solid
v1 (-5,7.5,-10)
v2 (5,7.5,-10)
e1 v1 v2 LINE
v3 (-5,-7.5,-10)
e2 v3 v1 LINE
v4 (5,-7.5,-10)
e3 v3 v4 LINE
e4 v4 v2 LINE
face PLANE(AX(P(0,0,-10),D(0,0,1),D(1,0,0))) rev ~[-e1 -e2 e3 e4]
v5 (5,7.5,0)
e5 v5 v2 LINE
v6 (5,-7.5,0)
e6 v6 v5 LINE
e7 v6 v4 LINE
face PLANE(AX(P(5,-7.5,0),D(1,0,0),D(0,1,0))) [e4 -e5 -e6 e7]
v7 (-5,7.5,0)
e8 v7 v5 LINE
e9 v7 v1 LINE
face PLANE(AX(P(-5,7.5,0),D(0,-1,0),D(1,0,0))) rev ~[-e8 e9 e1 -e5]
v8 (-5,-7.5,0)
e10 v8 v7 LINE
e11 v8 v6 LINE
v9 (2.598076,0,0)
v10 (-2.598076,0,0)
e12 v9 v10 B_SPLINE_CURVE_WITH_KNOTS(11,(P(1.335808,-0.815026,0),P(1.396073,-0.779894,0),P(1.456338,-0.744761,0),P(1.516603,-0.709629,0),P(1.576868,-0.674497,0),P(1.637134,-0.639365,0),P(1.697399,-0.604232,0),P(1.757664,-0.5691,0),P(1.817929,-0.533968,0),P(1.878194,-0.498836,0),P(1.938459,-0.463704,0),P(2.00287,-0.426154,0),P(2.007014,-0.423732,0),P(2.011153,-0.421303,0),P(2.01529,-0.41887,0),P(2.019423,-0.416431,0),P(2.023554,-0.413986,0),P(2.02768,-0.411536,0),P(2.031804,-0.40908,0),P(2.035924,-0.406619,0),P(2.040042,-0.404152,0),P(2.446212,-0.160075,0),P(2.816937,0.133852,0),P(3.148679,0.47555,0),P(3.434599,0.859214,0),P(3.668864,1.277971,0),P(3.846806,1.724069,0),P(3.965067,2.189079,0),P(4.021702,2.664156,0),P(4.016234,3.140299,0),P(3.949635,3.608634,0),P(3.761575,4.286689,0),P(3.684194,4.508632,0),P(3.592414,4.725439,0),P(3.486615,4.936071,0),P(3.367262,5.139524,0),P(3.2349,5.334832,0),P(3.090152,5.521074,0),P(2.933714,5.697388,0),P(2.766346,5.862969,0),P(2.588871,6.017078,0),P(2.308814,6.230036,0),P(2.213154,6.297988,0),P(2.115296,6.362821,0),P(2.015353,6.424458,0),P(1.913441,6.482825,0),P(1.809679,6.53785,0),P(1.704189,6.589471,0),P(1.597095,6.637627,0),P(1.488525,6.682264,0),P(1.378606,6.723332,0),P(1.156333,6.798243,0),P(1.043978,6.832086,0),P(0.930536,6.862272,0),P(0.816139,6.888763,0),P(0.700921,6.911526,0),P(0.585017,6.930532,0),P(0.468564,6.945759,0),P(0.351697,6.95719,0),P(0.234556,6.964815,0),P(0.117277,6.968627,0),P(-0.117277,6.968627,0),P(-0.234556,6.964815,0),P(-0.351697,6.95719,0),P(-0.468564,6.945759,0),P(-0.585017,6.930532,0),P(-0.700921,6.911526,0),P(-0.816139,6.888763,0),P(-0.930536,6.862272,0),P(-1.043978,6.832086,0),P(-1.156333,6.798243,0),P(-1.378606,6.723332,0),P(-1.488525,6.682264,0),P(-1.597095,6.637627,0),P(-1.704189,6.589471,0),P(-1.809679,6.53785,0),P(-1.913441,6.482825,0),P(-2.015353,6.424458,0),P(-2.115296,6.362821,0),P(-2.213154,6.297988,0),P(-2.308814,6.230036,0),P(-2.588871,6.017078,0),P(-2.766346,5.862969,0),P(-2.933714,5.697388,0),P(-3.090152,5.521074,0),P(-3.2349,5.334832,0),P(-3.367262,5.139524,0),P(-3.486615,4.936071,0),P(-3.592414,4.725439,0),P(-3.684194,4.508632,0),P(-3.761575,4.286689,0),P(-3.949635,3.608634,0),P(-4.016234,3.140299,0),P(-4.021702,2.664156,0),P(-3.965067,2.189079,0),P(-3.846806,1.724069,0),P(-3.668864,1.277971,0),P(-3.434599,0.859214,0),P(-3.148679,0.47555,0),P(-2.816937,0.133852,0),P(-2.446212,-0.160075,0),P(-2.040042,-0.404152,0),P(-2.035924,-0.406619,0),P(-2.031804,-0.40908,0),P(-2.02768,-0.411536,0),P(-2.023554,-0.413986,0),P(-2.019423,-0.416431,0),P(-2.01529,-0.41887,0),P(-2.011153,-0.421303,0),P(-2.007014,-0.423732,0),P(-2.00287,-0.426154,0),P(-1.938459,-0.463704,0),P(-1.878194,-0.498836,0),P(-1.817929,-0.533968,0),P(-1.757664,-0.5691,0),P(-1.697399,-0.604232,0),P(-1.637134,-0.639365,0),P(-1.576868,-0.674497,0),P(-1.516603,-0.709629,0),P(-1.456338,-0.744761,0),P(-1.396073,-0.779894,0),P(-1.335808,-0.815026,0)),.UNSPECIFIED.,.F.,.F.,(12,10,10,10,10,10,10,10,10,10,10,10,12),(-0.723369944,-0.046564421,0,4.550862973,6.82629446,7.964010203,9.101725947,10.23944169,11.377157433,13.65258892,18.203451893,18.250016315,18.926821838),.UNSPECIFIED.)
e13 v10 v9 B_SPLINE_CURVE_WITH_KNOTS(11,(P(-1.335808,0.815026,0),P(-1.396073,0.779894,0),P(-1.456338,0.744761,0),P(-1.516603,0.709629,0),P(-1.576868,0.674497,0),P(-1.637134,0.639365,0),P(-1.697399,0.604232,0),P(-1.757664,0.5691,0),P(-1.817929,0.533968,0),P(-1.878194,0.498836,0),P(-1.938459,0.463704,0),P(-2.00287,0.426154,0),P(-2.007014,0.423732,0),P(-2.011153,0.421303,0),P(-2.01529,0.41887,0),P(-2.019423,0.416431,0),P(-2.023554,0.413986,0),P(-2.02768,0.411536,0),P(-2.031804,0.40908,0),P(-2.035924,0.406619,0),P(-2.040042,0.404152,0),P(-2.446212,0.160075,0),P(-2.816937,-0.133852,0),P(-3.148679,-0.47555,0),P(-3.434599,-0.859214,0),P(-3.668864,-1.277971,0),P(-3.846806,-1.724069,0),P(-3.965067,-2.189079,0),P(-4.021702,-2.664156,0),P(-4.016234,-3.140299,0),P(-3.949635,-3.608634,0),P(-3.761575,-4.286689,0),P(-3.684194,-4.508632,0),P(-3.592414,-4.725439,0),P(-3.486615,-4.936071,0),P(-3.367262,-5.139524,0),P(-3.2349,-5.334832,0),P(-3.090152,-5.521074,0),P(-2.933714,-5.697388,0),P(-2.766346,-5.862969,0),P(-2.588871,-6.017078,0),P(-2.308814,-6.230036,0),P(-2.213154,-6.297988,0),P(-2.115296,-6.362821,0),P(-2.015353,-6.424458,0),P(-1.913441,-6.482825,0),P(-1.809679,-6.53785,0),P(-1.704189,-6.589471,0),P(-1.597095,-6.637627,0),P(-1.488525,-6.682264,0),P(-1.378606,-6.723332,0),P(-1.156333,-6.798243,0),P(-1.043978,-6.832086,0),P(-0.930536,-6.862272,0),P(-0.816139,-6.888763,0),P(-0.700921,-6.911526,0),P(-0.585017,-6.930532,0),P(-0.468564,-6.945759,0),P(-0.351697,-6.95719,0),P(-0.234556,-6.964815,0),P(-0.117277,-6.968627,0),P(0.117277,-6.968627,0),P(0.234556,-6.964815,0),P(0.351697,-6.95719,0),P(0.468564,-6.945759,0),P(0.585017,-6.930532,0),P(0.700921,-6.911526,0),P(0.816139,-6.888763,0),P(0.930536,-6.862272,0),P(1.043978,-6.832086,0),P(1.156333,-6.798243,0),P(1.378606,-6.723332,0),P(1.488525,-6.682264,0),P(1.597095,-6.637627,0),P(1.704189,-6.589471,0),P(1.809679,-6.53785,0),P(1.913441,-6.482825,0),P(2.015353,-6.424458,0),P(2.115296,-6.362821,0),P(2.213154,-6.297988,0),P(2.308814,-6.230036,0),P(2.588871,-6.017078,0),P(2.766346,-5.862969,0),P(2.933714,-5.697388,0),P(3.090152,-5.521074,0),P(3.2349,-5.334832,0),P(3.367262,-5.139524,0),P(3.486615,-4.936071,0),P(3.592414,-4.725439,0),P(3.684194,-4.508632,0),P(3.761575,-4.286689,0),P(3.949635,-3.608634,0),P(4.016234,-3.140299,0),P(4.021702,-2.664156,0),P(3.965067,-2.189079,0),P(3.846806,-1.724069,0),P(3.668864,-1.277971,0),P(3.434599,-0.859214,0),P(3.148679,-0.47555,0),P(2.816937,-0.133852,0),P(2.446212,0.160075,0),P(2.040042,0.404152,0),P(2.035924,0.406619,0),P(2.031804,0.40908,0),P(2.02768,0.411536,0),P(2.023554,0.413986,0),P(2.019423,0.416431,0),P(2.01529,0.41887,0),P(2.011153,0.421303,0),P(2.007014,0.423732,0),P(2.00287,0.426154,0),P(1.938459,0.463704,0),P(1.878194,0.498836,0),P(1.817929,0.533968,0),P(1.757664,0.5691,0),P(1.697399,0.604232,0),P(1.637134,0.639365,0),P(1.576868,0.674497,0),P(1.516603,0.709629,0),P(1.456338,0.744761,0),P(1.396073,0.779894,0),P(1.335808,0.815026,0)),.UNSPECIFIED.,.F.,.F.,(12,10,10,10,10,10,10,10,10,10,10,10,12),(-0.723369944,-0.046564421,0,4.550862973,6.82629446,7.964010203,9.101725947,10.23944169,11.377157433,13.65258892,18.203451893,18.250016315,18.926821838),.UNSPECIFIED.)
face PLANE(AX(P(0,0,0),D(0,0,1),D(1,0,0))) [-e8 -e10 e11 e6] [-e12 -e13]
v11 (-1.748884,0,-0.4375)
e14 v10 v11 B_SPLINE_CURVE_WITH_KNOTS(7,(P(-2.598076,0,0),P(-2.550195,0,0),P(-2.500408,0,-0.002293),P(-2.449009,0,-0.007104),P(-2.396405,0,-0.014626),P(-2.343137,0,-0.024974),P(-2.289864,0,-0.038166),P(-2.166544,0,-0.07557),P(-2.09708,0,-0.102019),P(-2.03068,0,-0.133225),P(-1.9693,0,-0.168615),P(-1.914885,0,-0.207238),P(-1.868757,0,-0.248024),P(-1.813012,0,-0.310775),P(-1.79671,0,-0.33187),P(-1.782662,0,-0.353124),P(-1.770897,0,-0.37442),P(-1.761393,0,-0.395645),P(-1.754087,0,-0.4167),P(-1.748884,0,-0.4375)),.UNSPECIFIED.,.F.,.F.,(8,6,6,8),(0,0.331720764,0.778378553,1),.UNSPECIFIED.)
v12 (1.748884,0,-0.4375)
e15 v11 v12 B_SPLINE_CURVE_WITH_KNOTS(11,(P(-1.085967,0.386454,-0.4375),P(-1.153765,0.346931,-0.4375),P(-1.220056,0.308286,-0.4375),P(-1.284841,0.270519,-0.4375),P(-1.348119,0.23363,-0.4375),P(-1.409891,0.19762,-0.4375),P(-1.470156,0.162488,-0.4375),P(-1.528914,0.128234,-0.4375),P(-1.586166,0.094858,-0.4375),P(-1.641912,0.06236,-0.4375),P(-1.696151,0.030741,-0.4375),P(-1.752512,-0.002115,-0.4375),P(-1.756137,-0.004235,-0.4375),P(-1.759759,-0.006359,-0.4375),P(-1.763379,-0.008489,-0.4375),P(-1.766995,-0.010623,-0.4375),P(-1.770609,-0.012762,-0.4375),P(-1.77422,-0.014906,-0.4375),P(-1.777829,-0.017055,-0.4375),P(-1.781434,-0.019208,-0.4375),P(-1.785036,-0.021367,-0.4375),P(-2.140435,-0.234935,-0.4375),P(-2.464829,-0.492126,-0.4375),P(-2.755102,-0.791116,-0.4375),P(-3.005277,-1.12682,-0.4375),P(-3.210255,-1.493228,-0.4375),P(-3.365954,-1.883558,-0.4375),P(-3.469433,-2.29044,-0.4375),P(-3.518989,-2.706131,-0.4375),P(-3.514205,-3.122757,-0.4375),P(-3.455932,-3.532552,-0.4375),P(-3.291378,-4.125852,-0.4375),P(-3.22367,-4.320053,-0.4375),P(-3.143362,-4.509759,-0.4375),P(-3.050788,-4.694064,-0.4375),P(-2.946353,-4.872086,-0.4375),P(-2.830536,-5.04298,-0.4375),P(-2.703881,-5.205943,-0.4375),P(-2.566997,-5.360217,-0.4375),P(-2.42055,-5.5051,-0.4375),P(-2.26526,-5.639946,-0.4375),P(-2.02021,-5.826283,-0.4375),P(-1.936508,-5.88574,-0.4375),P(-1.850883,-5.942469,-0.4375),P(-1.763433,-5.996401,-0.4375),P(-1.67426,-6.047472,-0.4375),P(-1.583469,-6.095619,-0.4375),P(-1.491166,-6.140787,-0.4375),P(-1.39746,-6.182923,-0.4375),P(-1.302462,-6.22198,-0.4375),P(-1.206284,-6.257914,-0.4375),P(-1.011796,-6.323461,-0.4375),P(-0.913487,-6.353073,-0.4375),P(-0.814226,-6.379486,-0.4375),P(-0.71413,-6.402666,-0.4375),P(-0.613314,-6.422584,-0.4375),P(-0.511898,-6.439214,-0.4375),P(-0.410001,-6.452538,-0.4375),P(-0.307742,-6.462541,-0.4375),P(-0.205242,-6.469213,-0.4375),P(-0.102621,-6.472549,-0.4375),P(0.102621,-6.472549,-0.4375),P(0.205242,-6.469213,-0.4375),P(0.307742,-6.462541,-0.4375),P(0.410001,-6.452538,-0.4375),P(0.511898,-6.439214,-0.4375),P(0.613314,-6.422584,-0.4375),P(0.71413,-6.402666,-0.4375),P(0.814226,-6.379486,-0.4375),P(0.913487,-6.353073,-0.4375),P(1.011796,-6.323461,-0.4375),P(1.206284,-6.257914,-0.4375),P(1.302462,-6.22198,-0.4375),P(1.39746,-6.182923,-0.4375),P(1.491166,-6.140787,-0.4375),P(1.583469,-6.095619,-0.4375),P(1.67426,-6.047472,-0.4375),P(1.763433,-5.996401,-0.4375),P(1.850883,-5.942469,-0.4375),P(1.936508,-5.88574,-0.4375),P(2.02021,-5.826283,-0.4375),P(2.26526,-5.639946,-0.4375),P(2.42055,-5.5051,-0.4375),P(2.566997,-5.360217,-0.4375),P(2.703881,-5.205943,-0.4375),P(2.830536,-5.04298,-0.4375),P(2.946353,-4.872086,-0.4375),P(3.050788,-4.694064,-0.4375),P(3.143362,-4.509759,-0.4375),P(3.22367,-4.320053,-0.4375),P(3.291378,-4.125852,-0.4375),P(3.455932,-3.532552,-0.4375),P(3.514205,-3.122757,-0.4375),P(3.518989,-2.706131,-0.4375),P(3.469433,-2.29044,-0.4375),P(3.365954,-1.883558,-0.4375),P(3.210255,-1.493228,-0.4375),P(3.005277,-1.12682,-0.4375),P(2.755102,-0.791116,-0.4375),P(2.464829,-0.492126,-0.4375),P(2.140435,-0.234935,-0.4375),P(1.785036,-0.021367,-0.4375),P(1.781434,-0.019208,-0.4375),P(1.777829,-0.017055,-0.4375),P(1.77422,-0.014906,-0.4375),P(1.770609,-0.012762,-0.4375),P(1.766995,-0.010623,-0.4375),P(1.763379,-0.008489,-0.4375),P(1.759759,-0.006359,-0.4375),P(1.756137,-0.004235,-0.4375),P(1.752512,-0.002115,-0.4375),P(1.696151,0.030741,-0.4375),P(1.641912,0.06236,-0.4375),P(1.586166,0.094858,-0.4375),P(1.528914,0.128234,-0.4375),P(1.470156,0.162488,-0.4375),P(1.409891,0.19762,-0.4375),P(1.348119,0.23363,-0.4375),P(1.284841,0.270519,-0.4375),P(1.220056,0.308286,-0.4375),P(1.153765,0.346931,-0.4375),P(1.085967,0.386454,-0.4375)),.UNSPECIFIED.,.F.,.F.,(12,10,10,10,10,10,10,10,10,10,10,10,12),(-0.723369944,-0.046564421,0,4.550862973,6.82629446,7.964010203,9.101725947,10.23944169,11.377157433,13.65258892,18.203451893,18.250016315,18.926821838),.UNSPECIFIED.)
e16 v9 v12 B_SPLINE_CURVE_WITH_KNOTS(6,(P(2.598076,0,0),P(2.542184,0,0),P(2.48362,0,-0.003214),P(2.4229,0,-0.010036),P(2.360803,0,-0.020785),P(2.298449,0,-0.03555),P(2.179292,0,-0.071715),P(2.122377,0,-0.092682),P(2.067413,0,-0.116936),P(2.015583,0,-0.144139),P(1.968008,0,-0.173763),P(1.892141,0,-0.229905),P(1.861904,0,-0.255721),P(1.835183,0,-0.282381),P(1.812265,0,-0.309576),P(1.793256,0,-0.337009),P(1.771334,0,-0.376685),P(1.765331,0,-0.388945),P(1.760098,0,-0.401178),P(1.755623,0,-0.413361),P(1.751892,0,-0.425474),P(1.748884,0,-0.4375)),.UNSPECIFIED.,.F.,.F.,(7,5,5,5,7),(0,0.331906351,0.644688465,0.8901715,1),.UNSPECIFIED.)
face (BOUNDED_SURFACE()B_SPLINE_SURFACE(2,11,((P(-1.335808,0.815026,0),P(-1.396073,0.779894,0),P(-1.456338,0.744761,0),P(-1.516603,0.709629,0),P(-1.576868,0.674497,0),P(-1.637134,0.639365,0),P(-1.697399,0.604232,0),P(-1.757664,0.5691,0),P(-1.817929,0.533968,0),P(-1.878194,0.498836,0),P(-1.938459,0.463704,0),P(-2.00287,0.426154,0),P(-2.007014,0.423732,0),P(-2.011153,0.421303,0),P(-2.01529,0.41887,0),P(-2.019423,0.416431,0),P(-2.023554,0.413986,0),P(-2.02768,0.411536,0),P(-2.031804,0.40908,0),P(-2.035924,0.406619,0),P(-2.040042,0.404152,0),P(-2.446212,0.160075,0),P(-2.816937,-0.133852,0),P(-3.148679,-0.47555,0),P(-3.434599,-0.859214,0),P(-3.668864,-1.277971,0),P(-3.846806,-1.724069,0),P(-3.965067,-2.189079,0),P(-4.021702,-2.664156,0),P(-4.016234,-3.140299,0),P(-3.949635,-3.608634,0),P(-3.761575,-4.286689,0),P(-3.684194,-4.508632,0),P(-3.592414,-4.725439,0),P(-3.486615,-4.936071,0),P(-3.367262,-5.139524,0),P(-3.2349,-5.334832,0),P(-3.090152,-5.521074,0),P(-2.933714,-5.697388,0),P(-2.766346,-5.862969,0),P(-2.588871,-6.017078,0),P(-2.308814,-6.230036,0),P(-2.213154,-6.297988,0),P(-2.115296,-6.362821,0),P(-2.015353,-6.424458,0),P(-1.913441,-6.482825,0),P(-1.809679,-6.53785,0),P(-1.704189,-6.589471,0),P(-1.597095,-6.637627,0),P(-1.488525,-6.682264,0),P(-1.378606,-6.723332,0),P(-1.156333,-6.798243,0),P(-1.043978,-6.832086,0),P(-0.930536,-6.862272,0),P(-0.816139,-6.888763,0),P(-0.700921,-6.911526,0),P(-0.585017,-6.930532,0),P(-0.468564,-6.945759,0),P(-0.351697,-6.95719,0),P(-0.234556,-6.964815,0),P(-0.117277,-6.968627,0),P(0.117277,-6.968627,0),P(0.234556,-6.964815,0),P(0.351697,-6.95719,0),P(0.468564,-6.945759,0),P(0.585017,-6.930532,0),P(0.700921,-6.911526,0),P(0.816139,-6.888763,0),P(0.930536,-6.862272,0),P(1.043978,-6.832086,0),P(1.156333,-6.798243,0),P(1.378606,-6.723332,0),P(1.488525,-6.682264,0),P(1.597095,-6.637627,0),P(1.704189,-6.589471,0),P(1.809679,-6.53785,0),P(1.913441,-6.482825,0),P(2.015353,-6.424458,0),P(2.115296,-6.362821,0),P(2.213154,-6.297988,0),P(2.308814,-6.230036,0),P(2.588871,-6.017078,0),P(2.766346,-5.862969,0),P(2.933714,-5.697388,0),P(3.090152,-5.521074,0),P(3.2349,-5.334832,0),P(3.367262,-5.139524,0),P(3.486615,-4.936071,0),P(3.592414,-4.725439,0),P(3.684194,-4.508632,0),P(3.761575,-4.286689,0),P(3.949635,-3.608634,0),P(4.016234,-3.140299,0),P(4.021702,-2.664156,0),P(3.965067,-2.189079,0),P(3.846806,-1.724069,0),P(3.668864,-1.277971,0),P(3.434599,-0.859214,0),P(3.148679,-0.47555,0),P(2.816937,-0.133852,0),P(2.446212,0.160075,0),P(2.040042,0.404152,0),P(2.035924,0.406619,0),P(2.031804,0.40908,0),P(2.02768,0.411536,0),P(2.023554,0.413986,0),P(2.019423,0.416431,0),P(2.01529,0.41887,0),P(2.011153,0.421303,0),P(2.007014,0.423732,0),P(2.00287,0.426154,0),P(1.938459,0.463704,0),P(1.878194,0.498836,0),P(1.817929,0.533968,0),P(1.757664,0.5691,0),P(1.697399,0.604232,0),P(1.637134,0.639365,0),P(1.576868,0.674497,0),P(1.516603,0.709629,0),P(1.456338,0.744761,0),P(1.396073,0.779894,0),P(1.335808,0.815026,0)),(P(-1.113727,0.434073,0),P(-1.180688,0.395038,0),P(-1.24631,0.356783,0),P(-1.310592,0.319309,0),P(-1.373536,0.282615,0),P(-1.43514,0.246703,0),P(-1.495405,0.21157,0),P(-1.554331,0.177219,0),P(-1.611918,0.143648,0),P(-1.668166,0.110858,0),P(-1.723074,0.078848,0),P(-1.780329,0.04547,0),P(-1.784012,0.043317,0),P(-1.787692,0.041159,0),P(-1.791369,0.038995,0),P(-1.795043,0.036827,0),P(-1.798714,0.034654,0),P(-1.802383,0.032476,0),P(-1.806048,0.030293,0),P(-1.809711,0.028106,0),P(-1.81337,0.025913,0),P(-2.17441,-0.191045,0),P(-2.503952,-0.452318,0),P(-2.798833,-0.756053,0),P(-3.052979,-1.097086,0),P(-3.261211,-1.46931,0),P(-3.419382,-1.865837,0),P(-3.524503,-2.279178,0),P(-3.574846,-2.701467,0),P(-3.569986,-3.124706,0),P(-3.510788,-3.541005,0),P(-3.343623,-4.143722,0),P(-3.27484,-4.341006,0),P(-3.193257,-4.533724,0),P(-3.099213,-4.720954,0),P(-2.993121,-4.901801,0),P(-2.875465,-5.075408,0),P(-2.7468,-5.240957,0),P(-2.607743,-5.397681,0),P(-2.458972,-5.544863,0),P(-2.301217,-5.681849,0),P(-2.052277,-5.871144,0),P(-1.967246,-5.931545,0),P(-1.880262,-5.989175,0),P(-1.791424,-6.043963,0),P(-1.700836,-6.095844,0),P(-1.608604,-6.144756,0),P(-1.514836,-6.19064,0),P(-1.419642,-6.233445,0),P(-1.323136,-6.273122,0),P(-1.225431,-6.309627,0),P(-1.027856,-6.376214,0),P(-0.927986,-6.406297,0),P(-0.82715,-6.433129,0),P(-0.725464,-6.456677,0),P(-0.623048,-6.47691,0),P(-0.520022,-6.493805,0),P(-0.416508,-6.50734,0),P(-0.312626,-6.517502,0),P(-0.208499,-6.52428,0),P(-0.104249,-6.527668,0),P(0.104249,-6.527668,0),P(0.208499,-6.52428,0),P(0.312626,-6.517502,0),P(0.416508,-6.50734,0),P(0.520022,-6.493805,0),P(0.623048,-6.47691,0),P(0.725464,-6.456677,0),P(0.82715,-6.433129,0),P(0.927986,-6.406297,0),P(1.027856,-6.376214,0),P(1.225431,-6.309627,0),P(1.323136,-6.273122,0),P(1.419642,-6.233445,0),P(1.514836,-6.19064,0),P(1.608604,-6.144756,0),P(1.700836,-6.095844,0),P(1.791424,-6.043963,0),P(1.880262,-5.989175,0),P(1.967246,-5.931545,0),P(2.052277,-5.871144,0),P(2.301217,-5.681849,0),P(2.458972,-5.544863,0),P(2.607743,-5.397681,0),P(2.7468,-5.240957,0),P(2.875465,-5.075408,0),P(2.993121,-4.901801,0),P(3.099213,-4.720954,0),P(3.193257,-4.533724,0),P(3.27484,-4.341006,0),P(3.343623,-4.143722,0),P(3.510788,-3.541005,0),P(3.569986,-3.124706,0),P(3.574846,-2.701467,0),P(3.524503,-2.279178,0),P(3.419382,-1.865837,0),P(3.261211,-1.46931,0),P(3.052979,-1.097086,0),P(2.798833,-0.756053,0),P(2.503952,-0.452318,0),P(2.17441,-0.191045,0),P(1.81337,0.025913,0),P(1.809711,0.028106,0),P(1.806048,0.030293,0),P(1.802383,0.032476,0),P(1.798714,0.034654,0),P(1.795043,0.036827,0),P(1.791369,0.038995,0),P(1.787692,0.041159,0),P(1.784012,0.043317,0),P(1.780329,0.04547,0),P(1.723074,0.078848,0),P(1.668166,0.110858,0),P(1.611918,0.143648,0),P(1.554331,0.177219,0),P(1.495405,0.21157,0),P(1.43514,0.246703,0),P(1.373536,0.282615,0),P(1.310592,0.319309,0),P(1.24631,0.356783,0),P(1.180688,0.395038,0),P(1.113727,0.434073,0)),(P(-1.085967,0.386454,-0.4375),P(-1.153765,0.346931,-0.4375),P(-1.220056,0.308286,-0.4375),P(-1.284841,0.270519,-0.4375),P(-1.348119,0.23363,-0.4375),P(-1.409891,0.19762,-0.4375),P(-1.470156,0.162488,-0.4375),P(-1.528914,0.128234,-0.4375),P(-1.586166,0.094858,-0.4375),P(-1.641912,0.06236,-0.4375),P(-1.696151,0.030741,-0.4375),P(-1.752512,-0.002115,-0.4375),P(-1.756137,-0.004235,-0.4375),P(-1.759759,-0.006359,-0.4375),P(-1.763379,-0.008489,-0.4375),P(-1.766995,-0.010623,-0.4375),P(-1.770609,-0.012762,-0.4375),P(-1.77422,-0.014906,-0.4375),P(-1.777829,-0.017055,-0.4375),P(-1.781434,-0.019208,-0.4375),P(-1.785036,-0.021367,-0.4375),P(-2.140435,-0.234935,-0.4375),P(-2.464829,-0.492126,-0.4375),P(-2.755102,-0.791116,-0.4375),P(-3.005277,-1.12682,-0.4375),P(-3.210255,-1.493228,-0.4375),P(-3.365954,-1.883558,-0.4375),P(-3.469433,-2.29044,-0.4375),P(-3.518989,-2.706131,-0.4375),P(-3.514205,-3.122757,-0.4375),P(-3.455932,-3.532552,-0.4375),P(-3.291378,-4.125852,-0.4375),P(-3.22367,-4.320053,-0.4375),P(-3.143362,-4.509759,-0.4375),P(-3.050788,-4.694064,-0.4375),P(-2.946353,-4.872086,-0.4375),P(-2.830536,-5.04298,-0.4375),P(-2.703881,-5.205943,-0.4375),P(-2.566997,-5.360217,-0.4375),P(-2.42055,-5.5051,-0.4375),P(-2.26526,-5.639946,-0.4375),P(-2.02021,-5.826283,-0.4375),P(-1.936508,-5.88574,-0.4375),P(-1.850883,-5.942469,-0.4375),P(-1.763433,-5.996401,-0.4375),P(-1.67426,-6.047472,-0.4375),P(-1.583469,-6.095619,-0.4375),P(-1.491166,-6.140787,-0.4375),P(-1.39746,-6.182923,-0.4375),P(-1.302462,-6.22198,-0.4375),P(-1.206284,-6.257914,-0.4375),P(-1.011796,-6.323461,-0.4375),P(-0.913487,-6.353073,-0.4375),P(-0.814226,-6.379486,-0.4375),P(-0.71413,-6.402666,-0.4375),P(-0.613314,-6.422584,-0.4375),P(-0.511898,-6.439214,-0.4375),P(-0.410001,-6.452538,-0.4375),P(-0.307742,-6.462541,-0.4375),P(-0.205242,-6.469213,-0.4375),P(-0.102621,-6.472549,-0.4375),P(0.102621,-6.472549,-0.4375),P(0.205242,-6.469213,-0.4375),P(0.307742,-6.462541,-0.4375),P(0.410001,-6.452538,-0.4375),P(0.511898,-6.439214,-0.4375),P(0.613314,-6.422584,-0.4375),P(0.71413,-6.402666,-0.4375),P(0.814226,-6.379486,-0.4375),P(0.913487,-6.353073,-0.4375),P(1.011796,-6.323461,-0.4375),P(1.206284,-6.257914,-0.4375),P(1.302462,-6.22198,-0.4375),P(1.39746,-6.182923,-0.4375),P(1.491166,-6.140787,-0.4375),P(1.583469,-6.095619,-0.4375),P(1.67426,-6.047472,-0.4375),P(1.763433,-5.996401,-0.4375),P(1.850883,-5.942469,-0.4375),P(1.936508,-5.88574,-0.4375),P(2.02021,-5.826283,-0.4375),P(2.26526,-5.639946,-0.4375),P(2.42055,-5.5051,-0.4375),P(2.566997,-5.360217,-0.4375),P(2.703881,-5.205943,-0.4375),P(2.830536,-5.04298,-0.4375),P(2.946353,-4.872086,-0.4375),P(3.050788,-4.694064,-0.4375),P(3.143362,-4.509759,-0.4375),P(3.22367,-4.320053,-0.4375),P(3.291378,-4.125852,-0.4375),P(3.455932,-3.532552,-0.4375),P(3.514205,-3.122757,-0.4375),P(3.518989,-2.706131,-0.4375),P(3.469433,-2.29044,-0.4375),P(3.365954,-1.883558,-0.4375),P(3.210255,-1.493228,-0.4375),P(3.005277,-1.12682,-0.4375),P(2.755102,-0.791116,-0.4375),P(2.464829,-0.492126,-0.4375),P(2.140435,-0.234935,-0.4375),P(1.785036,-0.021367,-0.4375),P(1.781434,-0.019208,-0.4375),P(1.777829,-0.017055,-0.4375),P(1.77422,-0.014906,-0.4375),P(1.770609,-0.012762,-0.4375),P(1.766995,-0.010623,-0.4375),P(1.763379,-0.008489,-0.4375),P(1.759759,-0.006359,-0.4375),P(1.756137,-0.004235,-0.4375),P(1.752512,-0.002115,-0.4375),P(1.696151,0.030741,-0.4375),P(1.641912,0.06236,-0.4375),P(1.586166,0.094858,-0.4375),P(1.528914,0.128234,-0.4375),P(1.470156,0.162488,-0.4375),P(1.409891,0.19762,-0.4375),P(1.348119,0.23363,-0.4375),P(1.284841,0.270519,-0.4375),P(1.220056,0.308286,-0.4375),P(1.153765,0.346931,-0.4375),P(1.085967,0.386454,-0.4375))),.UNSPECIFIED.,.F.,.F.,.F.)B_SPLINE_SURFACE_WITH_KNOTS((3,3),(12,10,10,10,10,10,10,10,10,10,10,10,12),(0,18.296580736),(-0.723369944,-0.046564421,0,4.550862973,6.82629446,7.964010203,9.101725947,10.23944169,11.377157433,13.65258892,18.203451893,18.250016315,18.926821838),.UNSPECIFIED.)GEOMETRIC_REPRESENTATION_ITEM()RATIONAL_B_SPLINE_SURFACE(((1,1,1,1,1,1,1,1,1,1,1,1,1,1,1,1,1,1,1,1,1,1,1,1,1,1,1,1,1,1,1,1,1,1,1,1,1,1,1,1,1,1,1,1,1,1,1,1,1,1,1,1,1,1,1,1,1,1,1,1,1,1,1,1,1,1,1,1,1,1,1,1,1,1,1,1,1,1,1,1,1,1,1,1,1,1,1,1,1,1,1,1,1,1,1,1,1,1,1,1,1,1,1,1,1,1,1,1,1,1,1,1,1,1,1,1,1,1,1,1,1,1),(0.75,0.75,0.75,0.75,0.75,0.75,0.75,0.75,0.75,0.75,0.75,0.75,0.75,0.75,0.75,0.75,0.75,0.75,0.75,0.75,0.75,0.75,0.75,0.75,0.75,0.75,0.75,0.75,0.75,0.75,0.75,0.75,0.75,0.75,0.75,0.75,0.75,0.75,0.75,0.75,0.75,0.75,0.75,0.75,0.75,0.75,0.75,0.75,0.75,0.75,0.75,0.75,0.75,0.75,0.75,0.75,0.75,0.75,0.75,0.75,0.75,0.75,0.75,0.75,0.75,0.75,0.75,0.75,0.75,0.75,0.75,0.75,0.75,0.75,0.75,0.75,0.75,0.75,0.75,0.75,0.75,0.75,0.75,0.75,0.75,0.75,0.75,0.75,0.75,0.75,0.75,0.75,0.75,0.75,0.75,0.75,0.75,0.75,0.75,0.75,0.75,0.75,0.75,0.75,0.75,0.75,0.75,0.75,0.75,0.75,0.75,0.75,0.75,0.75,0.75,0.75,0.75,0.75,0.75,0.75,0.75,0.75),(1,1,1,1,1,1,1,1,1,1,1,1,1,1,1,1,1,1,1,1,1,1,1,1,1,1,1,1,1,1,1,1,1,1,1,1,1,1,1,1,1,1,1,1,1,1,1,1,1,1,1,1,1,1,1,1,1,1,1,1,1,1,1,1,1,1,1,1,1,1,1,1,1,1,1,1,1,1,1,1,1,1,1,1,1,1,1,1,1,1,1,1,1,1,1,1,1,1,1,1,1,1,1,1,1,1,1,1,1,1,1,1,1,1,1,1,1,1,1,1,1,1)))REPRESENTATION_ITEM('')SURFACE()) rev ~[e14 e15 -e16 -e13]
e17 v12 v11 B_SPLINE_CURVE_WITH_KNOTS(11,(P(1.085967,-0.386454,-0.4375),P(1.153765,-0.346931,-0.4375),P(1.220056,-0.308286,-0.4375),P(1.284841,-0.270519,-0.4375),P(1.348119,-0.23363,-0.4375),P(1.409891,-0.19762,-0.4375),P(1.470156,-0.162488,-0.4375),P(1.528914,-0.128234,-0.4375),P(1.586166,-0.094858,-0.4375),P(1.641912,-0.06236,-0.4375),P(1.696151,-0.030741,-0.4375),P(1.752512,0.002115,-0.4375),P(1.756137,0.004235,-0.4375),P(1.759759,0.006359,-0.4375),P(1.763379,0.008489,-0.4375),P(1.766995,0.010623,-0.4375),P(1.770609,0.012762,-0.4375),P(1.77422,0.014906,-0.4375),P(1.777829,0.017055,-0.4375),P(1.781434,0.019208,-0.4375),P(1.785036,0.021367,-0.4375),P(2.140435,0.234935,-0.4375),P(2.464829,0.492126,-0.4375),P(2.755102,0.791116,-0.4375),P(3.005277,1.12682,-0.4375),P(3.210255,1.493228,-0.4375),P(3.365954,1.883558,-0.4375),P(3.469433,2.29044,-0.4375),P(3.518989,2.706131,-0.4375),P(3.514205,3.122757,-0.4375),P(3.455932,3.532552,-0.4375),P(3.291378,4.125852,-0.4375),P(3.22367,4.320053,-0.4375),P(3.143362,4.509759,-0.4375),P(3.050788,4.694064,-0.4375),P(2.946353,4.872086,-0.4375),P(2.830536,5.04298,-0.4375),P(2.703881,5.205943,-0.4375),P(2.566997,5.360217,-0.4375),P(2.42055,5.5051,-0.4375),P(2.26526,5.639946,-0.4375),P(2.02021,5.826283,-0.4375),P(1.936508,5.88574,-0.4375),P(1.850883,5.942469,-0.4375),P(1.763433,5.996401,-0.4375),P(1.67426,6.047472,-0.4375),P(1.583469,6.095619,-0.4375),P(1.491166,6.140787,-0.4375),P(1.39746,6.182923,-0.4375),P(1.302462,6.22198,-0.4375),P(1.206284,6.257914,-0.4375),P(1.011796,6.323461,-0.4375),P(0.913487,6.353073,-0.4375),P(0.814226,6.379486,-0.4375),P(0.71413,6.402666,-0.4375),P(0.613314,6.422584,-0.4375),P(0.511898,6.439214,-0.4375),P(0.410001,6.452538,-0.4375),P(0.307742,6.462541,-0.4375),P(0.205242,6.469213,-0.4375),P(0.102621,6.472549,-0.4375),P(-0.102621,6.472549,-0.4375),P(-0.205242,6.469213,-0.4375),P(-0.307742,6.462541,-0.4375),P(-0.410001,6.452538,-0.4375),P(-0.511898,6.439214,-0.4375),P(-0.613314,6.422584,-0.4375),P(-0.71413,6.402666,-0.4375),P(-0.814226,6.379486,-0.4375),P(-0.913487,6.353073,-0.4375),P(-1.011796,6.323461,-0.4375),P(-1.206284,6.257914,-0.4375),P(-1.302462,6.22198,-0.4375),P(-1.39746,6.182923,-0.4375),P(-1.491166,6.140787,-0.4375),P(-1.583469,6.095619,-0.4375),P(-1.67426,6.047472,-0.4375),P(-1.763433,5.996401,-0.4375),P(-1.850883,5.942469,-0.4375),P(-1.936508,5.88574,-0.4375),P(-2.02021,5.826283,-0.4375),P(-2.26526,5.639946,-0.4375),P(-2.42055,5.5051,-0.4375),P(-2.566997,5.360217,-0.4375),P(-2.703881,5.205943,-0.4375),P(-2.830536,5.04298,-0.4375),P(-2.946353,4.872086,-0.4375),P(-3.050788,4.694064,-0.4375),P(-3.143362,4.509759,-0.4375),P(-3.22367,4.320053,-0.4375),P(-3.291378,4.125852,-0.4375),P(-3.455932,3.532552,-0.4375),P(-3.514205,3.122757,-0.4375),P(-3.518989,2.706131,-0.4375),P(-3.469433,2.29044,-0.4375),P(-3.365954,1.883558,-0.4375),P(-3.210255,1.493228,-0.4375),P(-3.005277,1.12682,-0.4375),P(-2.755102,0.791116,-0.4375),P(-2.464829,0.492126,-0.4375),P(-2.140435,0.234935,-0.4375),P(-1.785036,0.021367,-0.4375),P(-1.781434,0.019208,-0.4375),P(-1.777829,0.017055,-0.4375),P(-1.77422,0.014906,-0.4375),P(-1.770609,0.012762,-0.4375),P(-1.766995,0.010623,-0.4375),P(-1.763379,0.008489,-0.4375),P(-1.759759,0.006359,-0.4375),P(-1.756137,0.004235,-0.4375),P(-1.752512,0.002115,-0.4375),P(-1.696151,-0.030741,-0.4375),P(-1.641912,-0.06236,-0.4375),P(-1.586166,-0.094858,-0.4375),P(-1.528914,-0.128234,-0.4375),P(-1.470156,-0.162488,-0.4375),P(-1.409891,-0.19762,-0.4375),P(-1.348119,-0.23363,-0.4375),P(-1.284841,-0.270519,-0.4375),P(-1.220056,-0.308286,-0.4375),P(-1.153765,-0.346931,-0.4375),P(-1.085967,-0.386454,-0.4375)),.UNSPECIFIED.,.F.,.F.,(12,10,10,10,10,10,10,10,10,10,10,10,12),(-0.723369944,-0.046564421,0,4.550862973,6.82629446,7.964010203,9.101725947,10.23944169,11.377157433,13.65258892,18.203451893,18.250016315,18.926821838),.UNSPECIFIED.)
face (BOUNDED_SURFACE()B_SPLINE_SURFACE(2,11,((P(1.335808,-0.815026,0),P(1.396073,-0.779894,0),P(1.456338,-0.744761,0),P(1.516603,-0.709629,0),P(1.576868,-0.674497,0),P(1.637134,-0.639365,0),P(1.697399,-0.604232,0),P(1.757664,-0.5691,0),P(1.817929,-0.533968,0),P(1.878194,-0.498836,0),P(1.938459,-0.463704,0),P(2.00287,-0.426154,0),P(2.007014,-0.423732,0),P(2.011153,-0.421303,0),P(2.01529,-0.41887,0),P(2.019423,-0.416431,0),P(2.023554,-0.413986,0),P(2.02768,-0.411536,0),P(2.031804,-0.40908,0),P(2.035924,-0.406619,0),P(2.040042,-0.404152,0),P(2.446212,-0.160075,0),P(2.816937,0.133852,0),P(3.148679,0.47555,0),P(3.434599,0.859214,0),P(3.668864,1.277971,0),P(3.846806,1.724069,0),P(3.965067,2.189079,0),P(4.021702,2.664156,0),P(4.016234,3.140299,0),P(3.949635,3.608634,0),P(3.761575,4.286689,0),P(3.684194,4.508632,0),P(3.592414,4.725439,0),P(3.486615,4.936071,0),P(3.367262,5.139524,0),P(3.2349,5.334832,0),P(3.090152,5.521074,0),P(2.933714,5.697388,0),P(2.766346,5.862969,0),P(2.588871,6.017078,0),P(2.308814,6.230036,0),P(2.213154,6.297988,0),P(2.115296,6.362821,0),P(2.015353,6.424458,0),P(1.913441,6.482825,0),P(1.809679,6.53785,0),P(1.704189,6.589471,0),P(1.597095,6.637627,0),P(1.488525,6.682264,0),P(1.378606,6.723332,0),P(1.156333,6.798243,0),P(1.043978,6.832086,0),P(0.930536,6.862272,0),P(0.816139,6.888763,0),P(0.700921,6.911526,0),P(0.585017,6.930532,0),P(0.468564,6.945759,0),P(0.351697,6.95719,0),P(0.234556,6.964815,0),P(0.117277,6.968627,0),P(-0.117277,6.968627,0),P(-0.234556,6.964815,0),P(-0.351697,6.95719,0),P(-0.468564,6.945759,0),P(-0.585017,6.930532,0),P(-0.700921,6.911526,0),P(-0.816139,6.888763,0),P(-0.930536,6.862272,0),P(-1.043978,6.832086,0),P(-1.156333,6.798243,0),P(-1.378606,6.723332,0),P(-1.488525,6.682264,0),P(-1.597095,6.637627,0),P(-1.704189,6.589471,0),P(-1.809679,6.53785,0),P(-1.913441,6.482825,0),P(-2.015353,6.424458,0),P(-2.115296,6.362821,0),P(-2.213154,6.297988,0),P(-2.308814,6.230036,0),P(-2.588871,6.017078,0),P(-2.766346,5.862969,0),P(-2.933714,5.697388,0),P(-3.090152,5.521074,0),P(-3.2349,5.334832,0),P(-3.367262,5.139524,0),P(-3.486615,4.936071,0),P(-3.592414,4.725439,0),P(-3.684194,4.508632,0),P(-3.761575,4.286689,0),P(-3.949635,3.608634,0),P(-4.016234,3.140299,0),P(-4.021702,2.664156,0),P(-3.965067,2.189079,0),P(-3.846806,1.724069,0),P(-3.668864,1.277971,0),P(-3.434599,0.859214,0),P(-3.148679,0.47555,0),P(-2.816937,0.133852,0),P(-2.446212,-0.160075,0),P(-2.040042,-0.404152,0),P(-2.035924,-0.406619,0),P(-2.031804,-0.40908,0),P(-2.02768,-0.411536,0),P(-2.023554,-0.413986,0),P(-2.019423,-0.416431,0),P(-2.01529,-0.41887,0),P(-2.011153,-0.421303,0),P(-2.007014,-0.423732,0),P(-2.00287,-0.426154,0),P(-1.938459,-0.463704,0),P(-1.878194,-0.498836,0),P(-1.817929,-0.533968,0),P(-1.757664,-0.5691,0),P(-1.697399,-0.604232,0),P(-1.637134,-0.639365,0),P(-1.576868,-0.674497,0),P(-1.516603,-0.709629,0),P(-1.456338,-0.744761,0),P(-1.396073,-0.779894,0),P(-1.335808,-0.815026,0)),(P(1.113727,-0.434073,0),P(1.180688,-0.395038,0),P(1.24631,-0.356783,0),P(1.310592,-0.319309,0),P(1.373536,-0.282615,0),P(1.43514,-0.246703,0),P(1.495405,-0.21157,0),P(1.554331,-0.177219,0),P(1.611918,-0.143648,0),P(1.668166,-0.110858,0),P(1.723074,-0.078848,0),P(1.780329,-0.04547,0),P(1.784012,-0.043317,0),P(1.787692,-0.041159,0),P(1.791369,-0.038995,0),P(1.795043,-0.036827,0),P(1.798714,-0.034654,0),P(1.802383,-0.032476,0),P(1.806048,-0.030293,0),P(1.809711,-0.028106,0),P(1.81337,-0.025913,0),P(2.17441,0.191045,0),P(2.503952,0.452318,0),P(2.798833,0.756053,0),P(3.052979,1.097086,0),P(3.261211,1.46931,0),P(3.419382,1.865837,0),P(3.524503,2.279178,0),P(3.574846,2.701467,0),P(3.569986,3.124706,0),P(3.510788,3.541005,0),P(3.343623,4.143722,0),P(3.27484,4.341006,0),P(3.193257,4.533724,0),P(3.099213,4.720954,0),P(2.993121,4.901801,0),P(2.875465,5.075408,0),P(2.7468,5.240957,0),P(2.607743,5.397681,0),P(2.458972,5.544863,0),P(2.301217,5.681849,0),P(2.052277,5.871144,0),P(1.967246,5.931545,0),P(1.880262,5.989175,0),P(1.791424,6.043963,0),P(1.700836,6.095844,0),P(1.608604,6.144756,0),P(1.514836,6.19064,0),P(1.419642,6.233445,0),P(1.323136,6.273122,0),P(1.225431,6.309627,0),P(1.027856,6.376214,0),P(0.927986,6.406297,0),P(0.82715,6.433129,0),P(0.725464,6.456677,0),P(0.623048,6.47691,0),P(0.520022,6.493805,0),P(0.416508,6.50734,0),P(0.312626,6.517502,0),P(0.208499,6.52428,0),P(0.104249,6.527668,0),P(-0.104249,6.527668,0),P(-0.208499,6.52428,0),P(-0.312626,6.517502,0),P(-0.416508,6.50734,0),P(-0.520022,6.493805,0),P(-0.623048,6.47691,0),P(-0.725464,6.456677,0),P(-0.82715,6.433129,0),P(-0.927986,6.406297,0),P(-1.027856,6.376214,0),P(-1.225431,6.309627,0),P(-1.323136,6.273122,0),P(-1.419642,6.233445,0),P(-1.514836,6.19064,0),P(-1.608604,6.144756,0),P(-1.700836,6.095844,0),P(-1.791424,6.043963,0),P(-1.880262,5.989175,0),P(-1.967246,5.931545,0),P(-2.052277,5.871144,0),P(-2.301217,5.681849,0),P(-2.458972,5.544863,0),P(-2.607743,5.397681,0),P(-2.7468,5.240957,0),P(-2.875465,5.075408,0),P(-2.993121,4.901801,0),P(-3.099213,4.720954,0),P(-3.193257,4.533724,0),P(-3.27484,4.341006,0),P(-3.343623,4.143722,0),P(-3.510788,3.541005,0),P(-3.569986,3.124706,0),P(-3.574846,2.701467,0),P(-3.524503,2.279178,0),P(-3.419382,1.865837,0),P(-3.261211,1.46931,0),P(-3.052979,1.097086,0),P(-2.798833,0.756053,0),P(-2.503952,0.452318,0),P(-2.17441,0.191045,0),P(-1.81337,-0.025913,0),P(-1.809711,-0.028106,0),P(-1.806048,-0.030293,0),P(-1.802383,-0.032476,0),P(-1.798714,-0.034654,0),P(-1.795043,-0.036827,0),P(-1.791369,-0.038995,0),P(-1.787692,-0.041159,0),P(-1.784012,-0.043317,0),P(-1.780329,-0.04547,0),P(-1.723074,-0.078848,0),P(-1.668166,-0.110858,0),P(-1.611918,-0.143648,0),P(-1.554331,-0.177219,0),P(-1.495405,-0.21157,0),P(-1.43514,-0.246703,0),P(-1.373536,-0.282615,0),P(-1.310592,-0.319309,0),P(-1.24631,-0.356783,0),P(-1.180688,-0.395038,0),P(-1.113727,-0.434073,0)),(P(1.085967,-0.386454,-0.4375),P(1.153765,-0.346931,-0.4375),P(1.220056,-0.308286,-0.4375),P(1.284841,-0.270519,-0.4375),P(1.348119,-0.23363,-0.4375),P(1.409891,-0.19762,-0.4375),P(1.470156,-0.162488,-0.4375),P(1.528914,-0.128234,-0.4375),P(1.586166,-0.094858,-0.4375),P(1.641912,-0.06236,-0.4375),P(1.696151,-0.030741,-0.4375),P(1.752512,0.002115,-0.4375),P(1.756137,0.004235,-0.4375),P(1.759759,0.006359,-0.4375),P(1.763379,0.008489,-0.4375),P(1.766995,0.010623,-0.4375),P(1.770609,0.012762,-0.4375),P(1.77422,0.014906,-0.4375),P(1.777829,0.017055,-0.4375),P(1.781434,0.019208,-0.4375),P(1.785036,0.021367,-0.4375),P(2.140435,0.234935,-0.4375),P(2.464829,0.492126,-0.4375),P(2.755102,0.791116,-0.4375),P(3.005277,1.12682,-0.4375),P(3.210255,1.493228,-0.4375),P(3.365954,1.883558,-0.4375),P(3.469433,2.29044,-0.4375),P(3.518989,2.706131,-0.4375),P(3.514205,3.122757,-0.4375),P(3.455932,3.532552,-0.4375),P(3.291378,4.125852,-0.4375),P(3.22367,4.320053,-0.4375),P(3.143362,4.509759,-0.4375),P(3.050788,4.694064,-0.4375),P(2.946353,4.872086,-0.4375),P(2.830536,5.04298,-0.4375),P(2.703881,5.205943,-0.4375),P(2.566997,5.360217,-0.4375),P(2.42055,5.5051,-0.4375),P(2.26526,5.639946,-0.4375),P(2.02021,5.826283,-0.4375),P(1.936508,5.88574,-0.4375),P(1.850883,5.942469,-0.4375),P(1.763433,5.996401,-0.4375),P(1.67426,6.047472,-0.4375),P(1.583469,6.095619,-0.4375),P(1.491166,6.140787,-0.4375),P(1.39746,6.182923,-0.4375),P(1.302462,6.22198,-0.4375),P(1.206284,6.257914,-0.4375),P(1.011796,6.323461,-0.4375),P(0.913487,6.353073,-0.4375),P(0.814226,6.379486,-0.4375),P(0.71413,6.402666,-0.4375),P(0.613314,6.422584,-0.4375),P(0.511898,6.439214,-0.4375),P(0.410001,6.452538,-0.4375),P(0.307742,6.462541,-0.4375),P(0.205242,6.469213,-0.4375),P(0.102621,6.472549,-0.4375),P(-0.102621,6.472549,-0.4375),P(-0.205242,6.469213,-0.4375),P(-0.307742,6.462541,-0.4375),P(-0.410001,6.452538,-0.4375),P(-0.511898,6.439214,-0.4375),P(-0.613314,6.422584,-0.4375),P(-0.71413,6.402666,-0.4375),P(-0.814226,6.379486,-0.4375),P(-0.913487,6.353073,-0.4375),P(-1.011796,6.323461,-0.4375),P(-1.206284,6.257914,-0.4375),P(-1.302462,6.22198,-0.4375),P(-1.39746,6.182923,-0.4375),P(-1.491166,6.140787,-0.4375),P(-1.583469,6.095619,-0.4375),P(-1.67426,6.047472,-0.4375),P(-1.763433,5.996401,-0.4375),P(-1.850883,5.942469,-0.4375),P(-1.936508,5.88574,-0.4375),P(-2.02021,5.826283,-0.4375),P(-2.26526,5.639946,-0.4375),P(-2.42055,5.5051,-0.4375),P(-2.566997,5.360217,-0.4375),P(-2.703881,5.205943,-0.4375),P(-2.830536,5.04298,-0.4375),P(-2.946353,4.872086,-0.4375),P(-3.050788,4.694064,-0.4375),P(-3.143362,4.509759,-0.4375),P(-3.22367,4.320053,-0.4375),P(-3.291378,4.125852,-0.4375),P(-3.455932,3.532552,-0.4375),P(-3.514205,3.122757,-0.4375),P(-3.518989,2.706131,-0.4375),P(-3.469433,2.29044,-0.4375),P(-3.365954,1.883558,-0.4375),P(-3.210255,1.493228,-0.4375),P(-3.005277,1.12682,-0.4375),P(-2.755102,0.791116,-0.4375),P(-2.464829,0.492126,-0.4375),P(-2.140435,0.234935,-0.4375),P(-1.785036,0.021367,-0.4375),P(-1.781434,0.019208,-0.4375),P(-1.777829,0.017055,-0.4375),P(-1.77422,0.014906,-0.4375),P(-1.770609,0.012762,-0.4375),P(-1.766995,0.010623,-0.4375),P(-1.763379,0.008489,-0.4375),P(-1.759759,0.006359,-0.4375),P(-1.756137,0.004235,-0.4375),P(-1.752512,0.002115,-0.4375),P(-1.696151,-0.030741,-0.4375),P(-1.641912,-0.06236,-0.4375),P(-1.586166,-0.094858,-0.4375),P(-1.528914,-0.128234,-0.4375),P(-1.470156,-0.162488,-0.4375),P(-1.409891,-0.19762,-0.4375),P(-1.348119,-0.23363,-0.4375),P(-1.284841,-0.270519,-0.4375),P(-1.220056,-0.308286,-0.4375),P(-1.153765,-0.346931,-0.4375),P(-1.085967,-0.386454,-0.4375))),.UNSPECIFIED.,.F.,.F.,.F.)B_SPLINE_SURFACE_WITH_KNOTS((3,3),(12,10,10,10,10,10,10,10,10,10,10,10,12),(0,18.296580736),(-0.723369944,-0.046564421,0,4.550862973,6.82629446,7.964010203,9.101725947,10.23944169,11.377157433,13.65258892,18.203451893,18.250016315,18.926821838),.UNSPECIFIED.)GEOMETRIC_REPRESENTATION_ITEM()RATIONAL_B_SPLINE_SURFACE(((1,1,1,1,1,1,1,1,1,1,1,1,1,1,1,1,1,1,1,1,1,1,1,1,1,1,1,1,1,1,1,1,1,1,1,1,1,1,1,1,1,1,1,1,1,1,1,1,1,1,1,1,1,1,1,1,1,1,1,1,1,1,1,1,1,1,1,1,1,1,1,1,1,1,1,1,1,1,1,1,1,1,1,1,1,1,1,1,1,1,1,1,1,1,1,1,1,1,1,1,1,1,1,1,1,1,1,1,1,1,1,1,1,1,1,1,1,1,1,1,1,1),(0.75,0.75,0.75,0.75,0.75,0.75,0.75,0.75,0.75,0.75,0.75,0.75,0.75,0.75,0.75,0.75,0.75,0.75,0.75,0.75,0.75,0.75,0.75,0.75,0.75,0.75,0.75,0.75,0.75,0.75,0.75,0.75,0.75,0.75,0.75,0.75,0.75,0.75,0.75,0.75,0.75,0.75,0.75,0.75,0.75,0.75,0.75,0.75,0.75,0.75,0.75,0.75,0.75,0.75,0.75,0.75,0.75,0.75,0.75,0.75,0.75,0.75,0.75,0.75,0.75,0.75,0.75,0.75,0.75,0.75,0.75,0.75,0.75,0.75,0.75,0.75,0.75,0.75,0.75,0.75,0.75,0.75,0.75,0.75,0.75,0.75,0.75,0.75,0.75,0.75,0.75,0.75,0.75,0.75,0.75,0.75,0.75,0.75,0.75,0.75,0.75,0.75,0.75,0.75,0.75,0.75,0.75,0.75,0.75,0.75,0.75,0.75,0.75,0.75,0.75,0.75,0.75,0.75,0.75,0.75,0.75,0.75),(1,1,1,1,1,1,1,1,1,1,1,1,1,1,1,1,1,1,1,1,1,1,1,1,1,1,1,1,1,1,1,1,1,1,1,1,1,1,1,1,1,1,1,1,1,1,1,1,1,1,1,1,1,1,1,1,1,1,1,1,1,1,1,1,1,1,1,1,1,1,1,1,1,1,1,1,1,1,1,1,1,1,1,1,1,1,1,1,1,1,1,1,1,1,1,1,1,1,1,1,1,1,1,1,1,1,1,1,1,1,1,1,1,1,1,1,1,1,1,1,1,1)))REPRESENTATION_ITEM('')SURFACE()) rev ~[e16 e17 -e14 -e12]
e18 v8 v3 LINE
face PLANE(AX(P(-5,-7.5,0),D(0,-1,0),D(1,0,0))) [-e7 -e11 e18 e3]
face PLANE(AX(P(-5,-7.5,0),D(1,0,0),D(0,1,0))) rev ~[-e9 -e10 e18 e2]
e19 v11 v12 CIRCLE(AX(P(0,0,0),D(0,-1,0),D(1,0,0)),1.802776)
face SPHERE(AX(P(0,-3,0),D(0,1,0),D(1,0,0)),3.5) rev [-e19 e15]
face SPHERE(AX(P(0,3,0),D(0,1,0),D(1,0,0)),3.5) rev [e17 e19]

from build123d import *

# Parameters (mm, degrees)
F0_W     = 10
F0_H     = 15
F1_DEPTH = 10
F4_R     = 0.5


with BuildPart() as f1:
    # F0 (on Top) → F1 (new body)
    with BuildSketch(Plane.XY):
        Rectangle(F0_W, F0_H)
    extrude(amount=-F1_DEPTH)

    # F2 (on face) → F3 (revolve, cut)
    with BuildSketch(Plane.XY):
        with BuildLine():
            ThreePointArc((1.8027756377, 0), (3.3726843908, 3.9354143467), (0, 6.5))
            Line((0, 6.5), (0, 0.5))
            ThreePointArc((0, 0.5), (0.9354143467, 0.3726843908), (1.8027756377, 0))
        make_face()
        with BuildLine():
            ThreePointArc((1.8027756377, 0), (0.9354143467, 0.3726843908), (0, 0.5))
            Line((0, 0.5), (0, -0.5))
            ThreePointArc((0, -0.5), (0.9354143467, -0.3726843908), (1.8027756377, 0))
        make_face()
        with BuildLine():
            ThreePointArc((0, -6.5), (3.3726843908, -3.9354143467), (1.8027756377, 0))
            ThreePointArc((1.8027756377, 0), (0.9354143467, -0.3726843908), (0, -0.5))
            Line((0, -0.5), (0, -6.5))
        make_face()
    revolve(axis=Axis((0, 0.2168327096, 0), (0, -1, 0)), mode=Mode.SUBTRACT)

    # F4
    f4_edges = [f1.edges().sort_by_distance(p)[0] for p in [
        (3.372684, 3.935414, 0),
        (-3.372684, 3.935414, 0),
        (3.372684, -3.935414, 0),
        (-3.372684, -3.935414, 0),
    ]]
    fillet(f4_edges, radius=F4_R)


solid = f1.part
